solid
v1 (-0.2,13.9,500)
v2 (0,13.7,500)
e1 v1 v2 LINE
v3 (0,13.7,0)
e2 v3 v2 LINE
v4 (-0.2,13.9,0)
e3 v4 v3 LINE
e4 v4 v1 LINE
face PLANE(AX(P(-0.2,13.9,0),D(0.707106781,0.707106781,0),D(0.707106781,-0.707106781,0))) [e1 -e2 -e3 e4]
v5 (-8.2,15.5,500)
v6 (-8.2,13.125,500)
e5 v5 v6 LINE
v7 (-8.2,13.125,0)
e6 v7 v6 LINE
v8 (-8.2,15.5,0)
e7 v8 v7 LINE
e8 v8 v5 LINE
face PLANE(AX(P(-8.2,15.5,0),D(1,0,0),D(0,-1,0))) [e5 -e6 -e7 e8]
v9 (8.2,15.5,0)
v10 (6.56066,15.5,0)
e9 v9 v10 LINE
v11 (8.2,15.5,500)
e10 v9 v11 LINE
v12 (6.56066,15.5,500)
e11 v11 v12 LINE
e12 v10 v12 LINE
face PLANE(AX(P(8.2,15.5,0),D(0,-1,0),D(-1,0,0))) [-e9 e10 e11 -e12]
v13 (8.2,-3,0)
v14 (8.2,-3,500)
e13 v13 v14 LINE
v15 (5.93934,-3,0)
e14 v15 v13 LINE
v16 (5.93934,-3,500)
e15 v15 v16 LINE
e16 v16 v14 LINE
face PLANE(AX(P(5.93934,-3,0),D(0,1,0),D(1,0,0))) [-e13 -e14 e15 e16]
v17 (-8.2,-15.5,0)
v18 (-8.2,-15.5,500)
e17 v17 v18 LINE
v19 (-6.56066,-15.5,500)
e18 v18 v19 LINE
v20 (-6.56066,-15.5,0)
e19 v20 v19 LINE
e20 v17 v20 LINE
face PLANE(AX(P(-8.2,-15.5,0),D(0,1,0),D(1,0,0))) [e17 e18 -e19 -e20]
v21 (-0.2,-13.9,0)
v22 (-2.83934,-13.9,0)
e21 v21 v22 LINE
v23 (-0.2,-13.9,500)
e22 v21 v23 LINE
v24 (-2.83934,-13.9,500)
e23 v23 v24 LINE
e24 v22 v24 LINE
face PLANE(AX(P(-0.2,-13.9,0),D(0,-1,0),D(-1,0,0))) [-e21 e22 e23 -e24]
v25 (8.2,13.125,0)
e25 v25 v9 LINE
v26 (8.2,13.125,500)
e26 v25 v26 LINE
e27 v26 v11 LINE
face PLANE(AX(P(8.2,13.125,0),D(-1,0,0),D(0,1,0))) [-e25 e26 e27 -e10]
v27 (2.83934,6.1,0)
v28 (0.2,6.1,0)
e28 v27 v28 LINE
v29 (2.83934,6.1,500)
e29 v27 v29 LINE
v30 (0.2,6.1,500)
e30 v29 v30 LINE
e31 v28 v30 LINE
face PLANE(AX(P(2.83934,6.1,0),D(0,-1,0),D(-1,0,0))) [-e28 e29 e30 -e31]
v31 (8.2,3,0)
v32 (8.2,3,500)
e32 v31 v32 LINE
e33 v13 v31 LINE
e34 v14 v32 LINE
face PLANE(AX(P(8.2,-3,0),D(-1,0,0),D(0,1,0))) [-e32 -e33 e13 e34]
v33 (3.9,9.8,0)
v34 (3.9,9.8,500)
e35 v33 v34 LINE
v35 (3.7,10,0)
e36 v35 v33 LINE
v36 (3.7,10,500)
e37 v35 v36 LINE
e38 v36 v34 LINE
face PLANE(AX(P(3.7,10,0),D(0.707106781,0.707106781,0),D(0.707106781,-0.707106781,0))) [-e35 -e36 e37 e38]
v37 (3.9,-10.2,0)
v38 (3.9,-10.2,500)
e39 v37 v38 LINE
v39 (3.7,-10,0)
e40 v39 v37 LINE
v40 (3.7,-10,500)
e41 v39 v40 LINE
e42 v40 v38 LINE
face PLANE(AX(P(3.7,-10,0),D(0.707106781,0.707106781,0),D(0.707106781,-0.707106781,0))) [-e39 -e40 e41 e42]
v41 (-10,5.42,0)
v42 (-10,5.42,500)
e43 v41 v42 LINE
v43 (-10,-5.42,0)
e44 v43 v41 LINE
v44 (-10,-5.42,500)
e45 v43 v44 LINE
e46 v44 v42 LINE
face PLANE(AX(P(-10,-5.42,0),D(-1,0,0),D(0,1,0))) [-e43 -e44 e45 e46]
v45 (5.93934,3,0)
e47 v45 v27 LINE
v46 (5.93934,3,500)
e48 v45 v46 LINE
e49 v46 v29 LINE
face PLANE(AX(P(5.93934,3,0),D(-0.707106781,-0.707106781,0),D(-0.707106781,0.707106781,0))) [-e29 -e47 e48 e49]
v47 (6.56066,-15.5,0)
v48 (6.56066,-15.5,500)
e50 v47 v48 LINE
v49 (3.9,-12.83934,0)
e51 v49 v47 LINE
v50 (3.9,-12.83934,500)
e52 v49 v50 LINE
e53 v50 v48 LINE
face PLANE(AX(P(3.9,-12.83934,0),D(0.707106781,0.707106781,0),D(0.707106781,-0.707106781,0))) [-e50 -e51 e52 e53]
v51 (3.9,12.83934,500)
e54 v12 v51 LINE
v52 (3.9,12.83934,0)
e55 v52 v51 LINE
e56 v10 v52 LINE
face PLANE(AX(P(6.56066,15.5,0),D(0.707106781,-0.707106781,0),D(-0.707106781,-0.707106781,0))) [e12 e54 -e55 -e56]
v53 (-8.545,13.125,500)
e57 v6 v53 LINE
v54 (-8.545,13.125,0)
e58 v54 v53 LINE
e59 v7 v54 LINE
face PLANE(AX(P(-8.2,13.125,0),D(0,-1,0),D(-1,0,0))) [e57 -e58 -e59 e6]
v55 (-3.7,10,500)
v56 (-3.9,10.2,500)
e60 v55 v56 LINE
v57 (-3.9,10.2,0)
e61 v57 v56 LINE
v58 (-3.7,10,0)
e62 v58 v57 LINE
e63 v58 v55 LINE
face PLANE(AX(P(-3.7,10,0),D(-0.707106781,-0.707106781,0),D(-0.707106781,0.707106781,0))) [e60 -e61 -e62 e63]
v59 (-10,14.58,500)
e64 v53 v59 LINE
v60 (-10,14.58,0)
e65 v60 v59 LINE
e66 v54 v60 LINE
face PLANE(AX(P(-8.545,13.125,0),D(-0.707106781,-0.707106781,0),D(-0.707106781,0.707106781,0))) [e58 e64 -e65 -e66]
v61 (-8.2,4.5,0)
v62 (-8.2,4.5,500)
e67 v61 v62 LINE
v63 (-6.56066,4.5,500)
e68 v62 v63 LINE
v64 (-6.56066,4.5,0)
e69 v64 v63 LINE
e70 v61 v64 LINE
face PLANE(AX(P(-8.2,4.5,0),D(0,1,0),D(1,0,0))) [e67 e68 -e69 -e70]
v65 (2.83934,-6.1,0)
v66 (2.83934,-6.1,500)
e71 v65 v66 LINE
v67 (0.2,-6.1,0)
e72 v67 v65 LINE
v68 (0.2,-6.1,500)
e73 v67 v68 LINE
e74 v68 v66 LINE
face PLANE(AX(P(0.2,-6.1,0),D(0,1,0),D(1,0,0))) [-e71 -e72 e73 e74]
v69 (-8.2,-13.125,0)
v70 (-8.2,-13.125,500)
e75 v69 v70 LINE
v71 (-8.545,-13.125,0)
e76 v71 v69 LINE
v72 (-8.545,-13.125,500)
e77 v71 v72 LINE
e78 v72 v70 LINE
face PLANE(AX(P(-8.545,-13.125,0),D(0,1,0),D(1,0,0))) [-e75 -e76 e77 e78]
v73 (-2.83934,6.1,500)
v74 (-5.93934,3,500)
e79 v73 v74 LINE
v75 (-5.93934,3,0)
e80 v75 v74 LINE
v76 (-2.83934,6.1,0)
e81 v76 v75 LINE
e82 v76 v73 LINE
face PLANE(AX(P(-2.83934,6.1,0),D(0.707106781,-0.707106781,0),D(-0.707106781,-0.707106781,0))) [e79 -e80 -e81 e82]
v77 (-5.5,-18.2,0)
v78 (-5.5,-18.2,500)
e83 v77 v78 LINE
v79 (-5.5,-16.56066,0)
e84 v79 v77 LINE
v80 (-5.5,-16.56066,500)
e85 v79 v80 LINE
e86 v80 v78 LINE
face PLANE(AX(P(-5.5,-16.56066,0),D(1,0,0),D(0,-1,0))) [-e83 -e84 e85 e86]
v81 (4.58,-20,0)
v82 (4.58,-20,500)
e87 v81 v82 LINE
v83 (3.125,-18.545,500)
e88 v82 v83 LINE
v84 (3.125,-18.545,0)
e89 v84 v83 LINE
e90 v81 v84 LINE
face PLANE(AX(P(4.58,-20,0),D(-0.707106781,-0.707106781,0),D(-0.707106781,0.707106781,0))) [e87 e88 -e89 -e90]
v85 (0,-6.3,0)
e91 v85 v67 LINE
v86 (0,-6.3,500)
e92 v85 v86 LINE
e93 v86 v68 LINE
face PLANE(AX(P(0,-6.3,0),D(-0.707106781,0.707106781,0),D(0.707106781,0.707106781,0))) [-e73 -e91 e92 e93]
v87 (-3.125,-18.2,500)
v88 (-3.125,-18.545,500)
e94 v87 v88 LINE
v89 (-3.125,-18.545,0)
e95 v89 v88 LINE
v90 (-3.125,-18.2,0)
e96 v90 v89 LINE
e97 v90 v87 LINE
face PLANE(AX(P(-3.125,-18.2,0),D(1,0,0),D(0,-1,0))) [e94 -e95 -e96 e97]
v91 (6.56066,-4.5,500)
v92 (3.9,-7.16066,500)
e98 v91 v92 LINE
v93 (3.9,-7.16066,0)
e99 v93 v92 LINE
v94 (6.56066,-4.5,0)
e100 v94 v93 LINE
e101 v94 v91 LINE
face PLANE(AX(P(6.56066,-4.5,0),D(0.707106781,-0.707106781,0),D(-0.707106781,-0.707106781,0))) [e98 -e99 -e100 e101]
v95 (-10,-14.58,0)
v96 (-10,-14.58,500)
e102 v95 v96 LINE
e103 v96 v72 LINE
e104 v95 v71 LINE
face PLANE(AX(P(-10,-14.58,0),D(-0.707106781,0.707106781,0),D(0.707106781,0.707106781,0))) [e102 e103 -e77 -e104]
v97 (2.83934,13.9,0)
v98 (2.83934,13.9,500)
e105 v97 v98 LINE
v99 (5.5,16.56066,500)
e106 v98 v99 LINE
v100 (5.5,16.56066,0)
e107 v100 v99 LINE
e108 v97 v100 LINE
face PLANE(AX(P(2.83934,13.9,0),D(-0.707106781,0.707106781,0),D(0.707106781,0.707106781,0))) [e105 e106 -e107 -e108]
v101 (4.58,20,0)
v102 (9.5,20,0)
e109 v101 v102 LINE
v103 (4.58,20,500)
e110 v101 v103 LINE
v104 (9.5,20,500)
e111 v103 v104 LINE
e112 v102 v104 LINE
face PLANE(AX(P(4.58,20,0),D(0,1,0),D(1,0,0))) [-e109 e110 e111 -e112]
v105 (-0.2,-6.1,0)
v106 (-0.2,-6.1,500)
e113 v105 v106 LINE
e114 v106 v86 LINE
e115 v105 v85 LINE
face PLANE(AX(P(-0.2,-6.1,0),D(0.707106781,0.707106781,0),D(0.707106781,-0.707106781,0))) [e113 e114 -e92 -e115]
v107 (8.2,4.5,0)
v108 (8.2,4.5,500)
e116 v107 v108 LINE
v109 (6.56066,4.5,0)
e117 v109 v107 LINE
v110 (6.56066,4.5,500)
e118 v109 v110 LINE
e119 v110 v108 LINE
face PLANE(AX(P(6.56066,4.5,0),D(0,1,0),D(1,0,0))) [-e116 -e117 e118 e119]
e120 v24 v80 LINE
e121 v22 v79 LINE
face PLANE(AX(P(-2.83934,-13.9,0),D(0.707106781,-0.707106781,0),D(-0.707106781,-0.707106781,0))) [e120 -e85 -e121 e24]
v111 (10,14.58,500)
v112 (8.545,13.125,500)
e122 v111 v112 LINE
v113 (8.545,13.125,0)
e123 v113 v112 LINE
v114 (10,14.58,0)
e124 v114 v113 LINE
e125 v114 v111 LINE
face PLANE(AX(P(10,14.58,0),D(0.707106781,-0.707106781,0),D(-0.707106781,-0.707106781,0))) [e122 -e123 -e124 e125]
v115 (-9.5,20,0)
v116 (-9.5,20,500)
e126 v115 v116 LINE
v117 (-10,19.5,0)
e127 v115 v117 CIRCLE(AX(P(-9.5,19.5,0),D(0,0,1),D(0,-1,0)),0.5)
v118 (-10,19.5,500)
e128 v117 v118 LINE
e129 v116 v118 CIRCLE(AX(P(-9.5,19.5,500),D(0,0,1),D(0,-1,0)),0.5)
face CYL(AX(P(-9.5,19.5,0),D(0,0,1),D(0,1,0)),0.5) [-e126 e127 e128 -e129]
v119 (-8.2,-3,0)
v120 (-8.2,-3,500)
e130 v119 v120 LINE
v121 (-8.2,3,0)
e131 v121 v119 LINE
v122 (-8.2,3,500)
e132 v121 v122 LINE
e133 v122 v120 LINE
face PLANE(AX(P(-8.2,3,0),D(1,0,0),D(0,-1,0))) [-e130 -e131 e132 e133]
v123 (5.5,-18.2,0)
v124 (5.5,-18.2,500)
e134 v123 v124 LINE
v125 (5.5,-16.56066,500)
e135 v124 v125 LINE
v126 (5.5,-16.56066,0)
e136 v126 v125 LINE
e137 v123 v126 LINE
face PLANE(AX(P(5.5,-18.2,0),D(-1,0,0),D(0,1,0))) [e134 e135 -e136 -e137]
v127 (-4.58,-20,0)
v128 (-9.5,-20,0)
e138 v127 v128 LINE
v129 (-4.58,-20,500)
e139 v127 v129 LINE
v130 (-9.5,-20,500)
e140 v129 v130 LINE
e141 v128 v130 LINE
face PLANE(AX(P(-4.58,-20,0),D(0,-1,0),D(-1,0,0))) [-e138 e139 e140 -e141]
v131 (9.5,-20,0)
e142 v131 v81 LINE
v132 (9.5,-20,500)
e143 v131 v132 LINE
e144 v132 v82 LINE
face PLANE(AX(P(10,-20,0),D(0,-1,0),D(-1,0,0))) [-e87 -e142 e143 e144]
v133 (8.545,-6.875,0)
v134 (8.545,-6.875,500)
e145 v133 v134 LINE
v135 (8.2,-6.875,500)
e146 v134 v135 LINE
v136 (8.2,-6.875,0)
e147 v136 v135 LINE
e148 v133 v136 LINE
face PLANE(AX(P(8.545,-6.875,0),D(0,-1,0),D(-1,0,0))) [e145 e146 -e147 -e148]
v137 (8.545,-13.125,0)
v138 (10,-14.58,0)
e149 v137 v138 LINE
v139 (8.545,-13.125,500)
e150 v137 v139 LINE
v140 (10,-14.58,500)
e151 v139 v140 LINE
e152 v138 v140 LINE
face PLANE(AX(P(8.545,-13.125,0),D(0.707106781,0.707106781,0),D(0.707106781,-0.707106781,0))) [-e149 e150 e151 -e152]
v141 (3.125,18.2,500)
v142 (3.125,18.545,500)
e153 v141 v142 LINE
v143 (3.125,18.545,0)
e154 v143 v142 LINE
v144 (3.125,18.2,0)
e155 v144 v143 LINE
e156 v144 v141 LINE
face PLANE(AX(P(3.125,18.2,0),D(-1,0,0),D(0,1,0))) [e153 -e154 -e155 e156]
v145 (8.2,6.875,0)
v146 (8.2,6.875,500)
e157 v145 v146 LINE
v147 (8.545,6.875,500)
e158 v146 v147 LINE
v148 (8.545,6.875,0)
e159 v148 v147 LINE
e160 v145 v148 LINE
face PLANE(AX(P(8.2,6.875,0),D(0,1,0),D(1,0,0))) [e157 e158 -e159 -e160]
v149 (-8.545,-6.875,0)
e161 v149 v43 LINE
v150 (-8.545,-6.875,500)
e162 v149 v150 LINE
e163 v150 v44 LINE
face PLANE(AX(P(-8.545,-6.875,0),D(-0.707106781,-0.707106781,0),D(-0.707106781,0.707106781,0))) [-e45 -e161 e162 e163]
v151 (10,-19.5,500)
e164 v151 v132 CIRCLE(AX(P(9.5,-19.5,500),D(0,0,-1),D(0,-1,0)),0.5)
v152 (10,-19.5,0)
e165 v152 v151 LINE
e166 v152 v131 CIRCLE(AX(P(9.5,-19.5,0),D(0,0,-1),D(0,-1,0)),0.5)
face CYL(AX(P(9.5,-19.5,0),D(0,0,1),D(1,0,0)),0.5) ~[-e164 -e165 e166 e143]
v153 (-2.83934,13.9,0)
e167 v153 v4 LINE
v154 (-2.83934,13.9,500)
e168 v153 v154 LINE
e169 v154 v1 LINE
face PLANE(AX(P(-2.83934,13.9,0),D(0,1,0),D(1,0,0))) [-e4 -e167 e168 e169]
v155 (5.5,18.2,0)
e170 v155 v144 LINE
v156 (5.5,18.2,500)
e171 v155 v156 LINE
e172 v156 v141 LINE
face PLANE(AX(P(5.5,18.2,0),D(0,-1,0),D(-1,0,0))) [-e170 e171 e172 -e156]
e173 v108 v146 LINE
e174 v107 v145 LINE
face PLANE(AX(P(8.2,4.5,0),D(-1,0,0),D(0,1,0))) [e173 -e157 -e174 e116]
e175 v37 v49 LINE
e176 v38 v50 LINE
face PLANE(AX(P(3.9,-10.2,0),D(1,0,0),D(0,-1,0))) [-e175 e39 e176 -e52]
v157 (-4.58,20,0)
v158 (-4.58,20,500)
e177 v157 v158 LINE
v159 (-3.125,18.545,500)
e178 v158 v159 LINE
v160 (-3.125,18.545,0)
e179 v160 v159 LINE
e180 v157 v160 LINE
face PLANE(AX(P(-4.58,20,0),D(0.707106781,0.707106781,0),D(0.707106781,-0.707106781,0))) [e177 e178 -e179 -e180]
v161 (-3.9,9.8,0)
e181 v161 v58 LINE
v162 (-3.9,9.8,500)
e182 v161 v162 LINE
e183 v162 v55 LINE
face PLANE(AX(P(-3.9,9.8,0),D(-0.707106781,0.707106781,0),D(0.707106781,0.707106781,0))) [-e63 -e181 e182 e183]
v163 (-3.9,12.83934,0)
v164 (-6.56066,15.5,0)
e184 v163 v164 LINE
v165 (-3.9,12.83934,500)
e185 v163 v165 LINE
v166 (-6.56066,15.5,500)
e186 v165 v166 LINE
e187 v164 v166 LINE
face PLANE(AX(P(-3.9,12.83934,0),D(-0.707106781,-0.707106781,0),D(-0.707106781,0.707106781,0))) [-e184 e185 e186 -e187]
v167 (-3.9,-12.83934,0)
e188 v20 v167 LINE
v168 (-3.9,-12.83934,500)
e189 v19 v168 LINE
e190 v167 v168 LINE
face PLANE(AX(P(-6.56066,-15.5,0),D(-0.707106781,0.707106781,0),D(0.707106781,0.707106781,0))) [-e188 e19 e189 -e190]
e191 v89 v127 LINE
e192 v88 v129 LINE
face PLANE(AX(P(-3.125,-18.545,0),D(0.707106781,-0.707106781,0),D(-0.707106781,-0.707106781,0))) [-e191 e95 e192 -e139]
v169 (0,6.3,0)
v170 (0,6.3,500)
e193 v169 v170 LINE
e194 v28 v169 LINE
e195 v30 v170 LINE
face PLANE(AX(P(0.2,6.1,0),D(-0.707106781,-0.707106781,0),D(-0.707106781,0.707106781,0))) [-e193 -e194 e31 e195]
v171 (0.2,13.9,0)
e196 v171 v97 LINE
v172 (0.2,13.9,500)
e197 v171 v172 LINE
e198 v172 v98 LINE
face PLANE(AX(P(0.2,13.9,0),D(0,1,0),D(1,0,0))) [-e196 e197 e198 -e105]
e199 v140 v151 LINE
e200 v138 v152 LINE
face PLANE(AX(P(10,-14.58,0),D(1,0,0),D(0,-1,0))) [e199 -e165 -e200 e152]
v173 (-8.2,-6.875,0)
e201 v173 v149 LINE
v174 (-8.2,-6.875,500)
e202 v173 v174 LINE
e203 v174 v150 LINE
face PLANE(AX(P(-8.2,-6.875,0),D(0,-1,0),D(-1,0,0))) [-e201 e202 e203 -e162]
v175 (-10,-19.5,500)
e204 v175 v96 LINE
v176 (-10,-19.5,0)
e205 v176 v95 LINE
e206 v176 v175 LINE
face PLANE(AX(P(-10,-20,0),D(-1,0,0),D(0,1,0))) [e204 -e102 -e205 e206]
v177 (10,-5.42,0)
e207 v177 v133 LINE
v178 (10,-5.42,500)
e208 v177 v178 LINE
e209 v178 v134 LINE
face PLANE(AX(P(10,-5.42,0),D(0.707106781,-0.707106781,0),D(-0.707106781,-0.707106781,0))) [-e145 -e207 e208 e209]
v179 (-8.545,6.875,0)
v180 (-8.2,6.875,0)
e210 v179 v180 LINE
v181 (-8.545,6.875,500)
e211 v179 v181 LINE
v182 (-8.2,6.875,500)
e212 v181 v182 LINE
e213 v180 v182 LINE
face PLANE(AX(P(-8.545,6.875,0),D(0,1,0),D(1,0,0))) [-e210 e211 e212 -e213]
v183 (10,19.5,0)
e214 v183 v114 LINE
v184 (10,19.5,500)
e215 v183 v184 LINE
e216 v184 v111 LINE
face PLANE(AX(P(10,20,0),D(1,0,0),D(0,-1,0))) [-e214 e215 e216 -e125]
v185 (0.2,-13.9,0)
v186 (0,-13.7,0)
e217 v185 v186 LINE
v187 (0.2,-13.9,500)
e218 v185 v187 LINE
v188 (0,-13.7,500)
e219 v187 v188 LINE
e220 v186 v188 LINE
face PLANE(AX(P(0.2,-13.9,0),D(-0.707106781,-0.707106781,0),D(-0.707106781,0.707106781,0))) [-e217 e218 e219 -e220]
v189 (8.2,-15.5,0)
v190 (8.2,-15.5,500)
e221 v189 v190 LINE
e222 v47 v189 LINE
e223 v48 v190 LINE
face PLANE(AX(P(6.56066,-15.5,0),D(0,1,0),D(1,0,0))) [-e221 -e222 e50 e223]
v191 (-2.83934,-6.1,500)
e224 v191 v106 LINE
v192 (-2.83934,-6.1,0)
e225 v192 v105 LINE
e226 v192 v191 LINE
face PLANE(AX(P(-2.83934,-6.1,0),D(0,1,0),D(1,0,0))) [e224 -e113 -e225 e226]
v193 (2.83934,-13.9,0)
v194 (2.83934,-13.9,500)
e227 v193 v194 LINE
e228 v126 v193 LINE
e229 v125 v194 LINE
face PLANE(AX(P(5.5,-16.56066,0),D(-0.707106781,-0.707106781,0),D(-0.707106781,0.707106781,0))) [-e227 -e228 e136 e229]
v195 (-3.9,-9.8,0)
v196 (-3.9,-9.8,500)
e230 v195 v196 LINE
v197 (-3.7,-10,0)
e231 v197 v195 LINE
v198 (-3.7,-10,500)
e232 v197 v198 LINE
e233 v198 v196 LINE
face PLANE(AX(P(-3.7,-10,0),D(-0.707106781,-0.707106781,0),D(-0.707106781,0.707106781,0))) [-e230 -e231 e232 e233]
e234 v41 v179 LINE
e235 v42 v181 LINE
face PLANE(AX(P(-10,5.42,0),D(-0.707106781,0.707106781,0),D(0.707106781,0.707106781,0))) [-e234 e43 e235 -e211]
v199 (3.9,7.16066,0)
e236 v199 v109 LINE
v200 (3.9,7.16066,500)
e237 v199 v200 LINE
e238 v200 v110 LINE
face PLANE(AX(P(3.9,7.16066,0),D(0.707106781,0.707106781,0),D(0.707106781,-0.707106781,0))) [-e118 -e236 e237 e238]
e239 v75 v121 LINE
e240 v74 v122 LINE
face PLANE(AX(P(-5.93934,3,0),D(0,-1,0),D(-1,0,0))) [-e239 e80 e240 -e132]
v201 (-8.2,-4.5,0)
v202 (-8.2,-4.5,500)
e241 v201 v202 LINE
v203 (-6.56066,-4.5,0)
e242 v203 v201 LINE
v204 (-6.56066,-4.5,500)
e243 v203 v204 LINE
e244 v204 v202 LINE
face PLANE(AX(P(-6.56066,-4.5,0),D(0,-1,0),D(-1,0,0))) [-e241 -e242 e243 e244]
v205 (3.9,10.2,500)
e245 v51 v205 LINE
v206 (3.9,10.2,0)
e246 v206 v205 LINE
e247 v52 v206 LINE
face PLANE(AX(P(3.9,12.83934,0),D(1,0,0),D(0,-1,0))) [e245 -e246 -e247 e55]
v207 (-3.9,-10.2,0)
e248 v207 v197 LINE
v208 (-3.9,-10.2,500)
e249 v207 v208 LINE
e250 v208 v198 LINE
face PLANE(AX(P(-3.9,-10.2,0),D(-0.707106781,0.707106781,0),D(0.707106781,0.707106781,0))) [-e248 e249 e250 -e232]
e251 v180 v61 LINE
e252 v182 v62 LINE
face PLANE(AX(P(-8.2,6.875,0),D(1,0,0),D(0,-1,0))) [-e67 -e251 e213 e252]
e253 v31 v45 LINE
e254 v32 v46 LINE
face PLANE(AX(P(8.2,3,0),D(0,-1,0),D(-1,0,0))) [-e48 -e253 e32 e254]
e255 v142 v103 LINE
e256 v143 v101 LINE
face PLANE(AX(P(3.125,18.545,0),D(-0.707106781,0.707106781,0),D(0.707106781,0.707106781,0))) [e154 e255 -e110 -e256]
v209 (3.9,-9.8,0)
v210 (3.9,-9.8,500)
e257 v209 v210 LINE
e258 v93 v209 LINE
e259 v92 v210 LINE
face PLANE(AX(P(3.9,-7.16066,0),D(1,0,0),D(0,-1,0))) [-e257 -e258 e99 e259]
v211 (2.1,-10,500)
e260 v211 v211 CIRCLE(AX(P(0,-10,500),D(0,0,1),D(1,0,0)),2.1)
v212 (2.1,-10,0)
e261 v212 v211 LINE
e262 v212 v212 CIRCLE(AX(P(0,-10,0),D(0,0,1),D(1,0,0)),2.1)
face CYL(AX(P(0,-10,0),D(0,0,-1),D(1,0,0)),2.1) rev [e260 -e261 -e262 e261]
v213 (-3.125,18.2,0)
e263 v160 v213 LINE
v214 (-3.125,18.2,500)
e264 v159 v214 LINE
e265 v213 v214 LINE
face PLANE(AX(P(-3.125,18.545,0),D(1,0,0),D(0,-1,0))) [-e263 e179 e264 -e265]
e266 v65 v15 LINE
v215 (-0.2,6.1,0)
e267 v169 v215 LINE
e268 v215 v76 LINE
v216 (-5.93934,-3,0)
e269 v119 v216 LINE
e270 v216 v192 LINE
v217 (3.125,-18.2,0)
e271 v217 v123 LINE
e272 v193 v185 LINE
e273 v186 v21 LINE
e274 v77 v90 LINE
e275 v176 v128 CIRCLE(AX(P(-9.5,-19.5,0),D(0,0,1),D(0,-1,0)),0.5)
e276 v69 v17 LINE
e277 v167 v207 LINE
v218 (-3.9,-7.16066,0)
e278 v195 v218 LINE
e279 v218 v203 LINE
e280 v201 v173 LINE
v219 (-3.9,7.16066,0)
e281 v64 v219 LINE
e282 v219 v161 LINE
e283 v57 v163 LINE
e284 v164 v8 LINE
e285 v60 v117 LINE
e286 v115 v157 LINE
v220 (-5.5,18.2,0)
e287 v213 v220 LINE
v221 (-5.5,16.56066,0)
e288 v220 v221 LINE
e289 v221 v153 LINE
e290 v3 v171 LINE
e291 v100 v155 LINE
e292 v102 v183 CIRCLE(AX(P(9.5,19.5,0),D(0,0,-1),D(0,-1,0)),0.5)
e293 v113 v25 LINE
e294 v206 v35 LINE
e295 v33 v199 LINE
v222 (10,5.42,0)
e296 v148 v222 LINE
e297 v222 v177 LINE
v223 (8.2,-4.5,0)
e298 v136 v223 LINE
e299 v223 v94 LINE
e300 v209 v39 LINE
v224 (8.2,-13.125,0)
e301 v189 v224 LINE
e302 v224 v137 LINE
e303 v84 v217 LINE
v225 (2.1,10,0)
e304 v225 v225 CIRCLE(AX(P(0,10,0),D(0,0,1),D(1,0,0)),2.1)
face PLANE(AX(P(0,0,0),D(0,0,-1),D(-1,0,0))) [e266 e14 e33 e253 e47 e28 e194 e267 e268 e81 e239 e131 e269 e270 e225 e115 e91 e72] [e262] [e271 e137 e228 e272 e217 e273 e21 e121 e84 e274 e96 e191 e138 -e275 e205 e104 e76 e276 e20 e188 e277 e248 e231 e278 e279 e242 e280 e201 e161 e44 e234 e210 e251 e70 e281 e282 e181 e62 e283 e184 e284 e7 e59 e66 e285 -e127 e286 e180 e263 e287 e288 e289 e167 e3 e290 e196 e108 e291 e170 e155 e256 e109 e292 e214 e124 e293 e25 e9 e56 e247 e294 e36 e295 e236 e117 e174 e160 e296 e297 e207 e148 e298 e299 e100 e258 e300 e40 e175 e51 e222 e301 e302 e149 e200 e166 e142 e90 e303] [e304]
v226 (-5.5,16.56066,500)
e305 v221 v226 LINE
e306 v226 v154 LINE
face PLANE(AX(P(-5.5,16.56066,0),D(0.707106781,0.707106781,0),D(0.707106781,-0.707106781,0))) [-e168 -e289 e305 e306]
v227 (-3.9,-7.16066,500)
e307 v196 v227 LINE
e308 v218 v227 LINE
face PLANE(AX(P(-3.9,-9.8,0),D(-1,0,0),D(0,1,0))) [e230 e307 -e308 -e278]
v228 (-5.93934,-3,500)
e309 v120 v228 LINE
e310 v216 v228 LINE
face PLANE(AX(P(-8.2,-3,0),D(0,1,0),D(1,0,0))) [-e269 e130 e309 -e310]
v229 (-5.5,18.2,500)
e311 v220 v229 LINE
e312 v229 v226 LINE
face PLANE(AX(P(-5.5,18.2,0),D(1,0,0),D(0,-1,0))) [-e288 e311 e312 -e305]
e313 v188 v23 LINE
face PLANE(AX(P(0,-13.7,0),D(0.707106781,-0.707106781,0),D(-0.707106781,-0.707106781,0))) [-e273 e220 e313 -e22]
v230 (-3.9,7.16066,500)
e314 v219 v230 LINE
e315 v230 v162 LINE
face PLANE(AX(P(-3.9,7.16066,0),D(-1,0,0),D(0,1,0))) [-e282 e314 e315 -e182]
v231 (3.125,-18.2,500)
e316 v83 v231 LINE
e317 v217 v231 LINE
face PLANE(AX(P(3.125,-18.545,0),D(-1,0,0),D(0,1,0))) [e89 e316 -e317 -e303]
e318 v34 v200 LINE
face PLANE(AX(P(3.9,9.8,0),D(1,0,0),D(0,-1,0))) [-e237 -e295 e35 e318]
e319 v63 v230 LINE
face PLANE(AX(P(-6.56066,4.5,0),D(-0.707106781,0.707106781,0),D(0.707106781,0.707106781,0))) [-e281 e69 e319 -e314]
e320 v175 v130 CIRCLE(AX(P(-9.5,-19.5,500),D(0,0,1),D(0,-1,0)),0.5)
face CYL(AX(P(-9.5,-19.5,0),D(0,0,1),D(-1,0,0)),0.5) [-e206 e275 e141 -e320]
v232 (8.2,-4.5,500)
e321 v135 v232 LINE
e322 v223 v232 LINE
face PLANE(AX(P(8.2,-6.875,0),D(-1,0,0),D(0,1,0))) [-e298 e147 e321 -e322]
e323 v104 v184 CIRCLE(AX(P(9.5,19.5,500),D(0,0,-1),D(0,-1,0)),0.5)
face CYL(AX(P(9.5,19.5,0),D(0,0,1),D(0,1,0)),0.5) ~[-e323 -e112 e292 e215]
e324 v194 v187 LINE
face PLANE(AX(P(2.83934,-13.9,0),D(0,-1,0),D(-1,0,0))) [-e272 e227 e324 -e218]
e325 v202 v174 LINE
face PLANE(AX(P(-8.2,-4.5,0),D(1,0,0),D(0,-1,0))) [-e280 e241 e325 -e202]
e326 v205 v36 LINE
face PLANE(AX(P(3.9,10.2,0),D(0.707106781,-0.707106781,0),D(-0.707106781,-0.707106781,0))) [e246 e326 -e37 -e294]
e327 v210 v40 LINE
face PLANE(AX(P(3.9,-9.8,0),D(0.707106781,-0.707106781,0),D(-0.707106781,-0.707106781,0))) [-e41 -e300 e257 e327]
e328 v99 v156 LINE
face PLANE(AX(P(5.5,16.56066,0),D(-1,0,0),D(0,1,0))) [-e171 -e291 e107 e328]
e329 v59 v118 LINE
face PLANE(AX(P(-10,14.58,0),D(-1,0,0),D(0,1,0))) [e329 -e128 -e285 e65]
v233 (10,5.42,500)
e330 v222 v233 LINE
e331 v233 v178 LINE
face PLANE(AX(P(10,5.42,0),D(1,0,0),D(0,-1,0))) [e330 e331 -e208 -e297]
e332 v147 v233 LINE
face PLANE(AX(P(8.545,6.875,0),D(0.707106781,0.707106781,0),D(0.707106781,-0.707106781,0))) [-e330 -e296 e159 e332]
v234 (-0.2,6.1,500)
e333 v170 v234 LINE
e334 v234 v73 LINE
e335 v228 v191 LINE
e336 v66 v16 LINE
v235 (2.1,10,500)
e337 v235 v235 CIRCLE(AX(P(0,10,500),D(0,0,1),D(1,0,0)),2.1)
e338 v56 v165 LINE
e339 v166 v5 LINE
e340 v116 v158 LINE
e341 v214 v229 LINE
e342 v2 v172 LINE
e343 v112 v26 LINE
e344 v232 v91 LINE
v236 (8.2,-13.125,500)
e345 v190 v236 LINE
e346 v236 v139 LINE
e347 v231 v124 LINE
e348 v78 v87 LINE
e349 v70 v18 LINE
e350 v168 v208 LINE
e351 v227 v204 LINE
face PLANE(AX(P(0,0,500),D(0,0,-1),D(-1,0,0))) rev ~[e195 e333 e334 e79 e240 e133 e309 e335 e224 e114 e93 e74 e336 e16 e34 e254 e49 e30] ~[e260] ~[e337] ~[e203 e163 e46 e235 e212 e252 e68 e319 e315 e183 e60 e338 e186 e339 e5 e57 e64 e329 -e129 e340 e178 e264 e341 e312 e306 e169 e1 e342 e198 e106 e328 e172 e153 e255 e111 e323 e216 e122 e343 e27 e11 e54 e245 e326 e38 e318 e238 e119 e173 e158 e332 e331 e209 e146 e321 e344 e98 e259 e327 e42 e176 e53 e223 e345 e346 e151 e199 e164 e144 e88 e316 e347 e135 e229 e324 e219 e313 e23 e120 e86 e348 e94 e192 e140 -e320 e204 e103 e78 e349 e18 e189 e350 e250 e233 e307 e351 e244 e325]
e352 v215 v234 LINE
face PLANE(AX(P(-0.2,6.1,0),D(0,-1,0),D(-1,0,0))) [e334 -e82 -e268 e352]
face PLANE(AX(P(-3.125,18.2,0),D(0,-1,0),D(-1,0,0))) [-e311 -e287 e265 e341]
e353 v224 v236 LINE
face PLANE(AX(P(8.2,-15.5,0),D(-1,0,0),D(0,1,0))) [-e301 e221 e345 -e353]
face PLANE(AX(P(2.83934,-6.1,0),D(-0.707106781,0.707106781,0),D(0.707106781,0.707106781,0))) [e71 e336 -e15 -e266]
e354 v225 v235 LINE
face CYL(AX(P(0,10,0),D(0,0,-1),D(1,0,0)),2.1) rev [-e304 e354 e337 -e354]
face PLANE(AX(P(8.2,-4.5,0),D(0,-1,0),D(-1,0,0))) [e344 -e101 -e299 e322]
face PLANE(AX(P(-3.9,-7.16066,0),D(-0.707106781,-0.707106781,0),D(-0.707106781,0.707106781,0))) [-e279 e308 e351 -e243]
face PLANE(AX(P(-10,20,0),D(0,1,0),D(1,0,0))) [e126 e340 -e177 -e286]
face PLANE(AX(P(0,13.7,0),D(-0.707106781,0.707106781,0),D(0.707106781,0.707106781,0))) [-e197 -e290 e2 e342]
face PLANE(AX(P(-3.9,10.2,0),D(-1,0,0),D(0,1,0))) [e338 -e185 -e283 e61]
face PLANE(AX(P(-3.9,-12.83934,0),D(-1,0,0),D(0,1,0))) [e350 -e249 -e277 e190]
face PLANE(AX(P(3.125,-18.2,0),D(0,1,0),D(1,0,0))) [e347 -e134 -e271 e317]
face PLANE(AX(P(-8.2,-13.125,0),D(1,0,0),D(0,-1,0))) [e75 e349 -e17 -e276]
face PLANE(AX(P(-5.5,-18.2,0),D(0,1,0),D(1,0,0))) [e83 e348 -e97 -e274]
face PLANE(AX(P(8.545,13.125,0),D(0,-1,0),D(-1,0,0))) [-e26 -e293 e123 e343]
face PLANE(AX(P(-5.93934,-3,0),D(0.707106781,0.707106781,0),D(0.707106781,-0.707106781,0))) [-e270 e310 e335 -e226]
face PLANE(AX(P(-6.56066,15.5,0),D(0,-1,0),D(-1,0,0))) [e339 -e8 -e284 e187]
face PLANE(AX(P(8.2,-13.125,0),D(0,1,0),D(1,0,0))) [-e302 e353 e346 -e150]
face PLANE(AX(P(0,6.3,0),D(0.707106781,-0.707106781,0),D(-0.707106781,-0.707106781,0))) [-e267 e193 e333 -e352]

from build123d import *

# Parameters (mm, degrees)
SKETCH1_R           = 2.1
BOSS_EXTRUDE1_DEPTH = 500
FILLET1_R           = 0.5


with BuildPart() as part:
    # Sketch1 → Boss-Extrude1 (new body)
    with BuildSketch(Plane.XY):
        Polygon((2.839339828, 13.9), (5.5, 16.560660172), (5.5, 18.2), (3.125, 18.2), (3.125, 18.545), (4.58, 20), (10, 20), (10, 14.58), (8.545, 13.125), (8.2, 13.125), (8.2, 15.5), (6.560660172, 15.5), (3.9, 12.839339828), (3.9, 10.2), (3.7, 10), (3.9, 9.8), (3.9, 7.160660172), (6.560660172, 4.5), (8.2, 4.5), (8.2, 6.875), (8.545, 6.875), (10, 5.42), (10, -5.42), (8.545, -6.875), (8.2, -6.875), (8.2, -4.5), (6.560660172, -4.5), (3.9, -7.160660172), (3.9, -9.8), (3.7, -10), (3.9, -10.2), (3.9, -12.839339828), (6.560660172, -15.5), (8.2, -15.5), (8.2, -13.125), (8.545, -13.125), (10, -14.58), (10, -20), (4.58, -20), (3.125, -18.545), (3.125, -18.2), (5.5, -18.2), (5.5, -16.560660172), (2.839339828, -13.9), (0.2, -13.9), (0, -13.7), (-0.2, -13.9), (-2.839339828, -13.9), (-5.5, -16.560660172), (-5.5, -18.2), (-3.125, -18.2), (-3.125, -18.545), (-4.58, -20), (-10, -20), (-10, -14.58), (-8.545, -13.125), (-8.2, -13.125), (-8.2, -15.5), (-6.560660172, -15.5), (-3.9, -12.839339828), (-3.9, -10.2), (-3.7, -10), (-3.9, -9.8), (-3.9, -7.160660172), (-6.560660172, -4.5), (-8.2, -4.5), (-8.2, -6.875), (-8.545, -6.875), (-10, -5.42), (-10, 5.42), (-8.545, 6.875), (-8.2, 6.875), (-8.2, 4.5), (-6.560660172, 4.5), (-3.9, 7.160660172), (-3.9, 9.8), (-3.7, 10), (-3.9, 10.2), (-3.9, 12.839339828), (-6.560660172, 15.5), (-8.2, 15.5), (-8.2, 13.125), (-8.545, 13.125), (-10, 14.58), (-10, 20), (-4.58, 20), (-3.125, 18.545), (-3.125, 18.2), (-5.5, 18.2), (-5.5, 16.560660172), (-2.839339828, 13.9), (-0.2, 13.9), (0, 13.7), (0.2, 13.9), align=None)
        with Locations((0, 10)):
            Circle(SKETCH1_R, mode=Mode.SUBTRACT)
        with Locations((0, -10)):
            Circle(SKETCH1_R, mode=Mode.SUBTRACT)
        Polygon((8.2, -3), (8.2, 3), (5.939339828, 3), (2.839339828, 6.1), (0.2, 6.1), (0, 6.3), (-0.2, 6.1), (-2.839339828, 6.1), (-5.939339828, 3), (-8.2, 3), (-8.2, -3), (-5.939339828, -3), (-2.839339828, -6.1), (-0.2, -6.1), (0, -6.3), (0.2, -6.1), (2.839339828, -6.1), (5.939339828, -3), align=None, mode=Mode.SUBTRACT)
    extrude(amount=BOSS_EXTRUDE1_DEPTH)

    # Fillet1
    fillet1_edges = [part.edges().sort_by_distance(p)[0] for p in [
        (10, -20, 250),
        (-10, -20, 250),
        (-10, 20, 250),
        (10, 20, 250),
    ]]
    fillet(fillet1_edges, radius=FILLET1_R)


solid = part.part
